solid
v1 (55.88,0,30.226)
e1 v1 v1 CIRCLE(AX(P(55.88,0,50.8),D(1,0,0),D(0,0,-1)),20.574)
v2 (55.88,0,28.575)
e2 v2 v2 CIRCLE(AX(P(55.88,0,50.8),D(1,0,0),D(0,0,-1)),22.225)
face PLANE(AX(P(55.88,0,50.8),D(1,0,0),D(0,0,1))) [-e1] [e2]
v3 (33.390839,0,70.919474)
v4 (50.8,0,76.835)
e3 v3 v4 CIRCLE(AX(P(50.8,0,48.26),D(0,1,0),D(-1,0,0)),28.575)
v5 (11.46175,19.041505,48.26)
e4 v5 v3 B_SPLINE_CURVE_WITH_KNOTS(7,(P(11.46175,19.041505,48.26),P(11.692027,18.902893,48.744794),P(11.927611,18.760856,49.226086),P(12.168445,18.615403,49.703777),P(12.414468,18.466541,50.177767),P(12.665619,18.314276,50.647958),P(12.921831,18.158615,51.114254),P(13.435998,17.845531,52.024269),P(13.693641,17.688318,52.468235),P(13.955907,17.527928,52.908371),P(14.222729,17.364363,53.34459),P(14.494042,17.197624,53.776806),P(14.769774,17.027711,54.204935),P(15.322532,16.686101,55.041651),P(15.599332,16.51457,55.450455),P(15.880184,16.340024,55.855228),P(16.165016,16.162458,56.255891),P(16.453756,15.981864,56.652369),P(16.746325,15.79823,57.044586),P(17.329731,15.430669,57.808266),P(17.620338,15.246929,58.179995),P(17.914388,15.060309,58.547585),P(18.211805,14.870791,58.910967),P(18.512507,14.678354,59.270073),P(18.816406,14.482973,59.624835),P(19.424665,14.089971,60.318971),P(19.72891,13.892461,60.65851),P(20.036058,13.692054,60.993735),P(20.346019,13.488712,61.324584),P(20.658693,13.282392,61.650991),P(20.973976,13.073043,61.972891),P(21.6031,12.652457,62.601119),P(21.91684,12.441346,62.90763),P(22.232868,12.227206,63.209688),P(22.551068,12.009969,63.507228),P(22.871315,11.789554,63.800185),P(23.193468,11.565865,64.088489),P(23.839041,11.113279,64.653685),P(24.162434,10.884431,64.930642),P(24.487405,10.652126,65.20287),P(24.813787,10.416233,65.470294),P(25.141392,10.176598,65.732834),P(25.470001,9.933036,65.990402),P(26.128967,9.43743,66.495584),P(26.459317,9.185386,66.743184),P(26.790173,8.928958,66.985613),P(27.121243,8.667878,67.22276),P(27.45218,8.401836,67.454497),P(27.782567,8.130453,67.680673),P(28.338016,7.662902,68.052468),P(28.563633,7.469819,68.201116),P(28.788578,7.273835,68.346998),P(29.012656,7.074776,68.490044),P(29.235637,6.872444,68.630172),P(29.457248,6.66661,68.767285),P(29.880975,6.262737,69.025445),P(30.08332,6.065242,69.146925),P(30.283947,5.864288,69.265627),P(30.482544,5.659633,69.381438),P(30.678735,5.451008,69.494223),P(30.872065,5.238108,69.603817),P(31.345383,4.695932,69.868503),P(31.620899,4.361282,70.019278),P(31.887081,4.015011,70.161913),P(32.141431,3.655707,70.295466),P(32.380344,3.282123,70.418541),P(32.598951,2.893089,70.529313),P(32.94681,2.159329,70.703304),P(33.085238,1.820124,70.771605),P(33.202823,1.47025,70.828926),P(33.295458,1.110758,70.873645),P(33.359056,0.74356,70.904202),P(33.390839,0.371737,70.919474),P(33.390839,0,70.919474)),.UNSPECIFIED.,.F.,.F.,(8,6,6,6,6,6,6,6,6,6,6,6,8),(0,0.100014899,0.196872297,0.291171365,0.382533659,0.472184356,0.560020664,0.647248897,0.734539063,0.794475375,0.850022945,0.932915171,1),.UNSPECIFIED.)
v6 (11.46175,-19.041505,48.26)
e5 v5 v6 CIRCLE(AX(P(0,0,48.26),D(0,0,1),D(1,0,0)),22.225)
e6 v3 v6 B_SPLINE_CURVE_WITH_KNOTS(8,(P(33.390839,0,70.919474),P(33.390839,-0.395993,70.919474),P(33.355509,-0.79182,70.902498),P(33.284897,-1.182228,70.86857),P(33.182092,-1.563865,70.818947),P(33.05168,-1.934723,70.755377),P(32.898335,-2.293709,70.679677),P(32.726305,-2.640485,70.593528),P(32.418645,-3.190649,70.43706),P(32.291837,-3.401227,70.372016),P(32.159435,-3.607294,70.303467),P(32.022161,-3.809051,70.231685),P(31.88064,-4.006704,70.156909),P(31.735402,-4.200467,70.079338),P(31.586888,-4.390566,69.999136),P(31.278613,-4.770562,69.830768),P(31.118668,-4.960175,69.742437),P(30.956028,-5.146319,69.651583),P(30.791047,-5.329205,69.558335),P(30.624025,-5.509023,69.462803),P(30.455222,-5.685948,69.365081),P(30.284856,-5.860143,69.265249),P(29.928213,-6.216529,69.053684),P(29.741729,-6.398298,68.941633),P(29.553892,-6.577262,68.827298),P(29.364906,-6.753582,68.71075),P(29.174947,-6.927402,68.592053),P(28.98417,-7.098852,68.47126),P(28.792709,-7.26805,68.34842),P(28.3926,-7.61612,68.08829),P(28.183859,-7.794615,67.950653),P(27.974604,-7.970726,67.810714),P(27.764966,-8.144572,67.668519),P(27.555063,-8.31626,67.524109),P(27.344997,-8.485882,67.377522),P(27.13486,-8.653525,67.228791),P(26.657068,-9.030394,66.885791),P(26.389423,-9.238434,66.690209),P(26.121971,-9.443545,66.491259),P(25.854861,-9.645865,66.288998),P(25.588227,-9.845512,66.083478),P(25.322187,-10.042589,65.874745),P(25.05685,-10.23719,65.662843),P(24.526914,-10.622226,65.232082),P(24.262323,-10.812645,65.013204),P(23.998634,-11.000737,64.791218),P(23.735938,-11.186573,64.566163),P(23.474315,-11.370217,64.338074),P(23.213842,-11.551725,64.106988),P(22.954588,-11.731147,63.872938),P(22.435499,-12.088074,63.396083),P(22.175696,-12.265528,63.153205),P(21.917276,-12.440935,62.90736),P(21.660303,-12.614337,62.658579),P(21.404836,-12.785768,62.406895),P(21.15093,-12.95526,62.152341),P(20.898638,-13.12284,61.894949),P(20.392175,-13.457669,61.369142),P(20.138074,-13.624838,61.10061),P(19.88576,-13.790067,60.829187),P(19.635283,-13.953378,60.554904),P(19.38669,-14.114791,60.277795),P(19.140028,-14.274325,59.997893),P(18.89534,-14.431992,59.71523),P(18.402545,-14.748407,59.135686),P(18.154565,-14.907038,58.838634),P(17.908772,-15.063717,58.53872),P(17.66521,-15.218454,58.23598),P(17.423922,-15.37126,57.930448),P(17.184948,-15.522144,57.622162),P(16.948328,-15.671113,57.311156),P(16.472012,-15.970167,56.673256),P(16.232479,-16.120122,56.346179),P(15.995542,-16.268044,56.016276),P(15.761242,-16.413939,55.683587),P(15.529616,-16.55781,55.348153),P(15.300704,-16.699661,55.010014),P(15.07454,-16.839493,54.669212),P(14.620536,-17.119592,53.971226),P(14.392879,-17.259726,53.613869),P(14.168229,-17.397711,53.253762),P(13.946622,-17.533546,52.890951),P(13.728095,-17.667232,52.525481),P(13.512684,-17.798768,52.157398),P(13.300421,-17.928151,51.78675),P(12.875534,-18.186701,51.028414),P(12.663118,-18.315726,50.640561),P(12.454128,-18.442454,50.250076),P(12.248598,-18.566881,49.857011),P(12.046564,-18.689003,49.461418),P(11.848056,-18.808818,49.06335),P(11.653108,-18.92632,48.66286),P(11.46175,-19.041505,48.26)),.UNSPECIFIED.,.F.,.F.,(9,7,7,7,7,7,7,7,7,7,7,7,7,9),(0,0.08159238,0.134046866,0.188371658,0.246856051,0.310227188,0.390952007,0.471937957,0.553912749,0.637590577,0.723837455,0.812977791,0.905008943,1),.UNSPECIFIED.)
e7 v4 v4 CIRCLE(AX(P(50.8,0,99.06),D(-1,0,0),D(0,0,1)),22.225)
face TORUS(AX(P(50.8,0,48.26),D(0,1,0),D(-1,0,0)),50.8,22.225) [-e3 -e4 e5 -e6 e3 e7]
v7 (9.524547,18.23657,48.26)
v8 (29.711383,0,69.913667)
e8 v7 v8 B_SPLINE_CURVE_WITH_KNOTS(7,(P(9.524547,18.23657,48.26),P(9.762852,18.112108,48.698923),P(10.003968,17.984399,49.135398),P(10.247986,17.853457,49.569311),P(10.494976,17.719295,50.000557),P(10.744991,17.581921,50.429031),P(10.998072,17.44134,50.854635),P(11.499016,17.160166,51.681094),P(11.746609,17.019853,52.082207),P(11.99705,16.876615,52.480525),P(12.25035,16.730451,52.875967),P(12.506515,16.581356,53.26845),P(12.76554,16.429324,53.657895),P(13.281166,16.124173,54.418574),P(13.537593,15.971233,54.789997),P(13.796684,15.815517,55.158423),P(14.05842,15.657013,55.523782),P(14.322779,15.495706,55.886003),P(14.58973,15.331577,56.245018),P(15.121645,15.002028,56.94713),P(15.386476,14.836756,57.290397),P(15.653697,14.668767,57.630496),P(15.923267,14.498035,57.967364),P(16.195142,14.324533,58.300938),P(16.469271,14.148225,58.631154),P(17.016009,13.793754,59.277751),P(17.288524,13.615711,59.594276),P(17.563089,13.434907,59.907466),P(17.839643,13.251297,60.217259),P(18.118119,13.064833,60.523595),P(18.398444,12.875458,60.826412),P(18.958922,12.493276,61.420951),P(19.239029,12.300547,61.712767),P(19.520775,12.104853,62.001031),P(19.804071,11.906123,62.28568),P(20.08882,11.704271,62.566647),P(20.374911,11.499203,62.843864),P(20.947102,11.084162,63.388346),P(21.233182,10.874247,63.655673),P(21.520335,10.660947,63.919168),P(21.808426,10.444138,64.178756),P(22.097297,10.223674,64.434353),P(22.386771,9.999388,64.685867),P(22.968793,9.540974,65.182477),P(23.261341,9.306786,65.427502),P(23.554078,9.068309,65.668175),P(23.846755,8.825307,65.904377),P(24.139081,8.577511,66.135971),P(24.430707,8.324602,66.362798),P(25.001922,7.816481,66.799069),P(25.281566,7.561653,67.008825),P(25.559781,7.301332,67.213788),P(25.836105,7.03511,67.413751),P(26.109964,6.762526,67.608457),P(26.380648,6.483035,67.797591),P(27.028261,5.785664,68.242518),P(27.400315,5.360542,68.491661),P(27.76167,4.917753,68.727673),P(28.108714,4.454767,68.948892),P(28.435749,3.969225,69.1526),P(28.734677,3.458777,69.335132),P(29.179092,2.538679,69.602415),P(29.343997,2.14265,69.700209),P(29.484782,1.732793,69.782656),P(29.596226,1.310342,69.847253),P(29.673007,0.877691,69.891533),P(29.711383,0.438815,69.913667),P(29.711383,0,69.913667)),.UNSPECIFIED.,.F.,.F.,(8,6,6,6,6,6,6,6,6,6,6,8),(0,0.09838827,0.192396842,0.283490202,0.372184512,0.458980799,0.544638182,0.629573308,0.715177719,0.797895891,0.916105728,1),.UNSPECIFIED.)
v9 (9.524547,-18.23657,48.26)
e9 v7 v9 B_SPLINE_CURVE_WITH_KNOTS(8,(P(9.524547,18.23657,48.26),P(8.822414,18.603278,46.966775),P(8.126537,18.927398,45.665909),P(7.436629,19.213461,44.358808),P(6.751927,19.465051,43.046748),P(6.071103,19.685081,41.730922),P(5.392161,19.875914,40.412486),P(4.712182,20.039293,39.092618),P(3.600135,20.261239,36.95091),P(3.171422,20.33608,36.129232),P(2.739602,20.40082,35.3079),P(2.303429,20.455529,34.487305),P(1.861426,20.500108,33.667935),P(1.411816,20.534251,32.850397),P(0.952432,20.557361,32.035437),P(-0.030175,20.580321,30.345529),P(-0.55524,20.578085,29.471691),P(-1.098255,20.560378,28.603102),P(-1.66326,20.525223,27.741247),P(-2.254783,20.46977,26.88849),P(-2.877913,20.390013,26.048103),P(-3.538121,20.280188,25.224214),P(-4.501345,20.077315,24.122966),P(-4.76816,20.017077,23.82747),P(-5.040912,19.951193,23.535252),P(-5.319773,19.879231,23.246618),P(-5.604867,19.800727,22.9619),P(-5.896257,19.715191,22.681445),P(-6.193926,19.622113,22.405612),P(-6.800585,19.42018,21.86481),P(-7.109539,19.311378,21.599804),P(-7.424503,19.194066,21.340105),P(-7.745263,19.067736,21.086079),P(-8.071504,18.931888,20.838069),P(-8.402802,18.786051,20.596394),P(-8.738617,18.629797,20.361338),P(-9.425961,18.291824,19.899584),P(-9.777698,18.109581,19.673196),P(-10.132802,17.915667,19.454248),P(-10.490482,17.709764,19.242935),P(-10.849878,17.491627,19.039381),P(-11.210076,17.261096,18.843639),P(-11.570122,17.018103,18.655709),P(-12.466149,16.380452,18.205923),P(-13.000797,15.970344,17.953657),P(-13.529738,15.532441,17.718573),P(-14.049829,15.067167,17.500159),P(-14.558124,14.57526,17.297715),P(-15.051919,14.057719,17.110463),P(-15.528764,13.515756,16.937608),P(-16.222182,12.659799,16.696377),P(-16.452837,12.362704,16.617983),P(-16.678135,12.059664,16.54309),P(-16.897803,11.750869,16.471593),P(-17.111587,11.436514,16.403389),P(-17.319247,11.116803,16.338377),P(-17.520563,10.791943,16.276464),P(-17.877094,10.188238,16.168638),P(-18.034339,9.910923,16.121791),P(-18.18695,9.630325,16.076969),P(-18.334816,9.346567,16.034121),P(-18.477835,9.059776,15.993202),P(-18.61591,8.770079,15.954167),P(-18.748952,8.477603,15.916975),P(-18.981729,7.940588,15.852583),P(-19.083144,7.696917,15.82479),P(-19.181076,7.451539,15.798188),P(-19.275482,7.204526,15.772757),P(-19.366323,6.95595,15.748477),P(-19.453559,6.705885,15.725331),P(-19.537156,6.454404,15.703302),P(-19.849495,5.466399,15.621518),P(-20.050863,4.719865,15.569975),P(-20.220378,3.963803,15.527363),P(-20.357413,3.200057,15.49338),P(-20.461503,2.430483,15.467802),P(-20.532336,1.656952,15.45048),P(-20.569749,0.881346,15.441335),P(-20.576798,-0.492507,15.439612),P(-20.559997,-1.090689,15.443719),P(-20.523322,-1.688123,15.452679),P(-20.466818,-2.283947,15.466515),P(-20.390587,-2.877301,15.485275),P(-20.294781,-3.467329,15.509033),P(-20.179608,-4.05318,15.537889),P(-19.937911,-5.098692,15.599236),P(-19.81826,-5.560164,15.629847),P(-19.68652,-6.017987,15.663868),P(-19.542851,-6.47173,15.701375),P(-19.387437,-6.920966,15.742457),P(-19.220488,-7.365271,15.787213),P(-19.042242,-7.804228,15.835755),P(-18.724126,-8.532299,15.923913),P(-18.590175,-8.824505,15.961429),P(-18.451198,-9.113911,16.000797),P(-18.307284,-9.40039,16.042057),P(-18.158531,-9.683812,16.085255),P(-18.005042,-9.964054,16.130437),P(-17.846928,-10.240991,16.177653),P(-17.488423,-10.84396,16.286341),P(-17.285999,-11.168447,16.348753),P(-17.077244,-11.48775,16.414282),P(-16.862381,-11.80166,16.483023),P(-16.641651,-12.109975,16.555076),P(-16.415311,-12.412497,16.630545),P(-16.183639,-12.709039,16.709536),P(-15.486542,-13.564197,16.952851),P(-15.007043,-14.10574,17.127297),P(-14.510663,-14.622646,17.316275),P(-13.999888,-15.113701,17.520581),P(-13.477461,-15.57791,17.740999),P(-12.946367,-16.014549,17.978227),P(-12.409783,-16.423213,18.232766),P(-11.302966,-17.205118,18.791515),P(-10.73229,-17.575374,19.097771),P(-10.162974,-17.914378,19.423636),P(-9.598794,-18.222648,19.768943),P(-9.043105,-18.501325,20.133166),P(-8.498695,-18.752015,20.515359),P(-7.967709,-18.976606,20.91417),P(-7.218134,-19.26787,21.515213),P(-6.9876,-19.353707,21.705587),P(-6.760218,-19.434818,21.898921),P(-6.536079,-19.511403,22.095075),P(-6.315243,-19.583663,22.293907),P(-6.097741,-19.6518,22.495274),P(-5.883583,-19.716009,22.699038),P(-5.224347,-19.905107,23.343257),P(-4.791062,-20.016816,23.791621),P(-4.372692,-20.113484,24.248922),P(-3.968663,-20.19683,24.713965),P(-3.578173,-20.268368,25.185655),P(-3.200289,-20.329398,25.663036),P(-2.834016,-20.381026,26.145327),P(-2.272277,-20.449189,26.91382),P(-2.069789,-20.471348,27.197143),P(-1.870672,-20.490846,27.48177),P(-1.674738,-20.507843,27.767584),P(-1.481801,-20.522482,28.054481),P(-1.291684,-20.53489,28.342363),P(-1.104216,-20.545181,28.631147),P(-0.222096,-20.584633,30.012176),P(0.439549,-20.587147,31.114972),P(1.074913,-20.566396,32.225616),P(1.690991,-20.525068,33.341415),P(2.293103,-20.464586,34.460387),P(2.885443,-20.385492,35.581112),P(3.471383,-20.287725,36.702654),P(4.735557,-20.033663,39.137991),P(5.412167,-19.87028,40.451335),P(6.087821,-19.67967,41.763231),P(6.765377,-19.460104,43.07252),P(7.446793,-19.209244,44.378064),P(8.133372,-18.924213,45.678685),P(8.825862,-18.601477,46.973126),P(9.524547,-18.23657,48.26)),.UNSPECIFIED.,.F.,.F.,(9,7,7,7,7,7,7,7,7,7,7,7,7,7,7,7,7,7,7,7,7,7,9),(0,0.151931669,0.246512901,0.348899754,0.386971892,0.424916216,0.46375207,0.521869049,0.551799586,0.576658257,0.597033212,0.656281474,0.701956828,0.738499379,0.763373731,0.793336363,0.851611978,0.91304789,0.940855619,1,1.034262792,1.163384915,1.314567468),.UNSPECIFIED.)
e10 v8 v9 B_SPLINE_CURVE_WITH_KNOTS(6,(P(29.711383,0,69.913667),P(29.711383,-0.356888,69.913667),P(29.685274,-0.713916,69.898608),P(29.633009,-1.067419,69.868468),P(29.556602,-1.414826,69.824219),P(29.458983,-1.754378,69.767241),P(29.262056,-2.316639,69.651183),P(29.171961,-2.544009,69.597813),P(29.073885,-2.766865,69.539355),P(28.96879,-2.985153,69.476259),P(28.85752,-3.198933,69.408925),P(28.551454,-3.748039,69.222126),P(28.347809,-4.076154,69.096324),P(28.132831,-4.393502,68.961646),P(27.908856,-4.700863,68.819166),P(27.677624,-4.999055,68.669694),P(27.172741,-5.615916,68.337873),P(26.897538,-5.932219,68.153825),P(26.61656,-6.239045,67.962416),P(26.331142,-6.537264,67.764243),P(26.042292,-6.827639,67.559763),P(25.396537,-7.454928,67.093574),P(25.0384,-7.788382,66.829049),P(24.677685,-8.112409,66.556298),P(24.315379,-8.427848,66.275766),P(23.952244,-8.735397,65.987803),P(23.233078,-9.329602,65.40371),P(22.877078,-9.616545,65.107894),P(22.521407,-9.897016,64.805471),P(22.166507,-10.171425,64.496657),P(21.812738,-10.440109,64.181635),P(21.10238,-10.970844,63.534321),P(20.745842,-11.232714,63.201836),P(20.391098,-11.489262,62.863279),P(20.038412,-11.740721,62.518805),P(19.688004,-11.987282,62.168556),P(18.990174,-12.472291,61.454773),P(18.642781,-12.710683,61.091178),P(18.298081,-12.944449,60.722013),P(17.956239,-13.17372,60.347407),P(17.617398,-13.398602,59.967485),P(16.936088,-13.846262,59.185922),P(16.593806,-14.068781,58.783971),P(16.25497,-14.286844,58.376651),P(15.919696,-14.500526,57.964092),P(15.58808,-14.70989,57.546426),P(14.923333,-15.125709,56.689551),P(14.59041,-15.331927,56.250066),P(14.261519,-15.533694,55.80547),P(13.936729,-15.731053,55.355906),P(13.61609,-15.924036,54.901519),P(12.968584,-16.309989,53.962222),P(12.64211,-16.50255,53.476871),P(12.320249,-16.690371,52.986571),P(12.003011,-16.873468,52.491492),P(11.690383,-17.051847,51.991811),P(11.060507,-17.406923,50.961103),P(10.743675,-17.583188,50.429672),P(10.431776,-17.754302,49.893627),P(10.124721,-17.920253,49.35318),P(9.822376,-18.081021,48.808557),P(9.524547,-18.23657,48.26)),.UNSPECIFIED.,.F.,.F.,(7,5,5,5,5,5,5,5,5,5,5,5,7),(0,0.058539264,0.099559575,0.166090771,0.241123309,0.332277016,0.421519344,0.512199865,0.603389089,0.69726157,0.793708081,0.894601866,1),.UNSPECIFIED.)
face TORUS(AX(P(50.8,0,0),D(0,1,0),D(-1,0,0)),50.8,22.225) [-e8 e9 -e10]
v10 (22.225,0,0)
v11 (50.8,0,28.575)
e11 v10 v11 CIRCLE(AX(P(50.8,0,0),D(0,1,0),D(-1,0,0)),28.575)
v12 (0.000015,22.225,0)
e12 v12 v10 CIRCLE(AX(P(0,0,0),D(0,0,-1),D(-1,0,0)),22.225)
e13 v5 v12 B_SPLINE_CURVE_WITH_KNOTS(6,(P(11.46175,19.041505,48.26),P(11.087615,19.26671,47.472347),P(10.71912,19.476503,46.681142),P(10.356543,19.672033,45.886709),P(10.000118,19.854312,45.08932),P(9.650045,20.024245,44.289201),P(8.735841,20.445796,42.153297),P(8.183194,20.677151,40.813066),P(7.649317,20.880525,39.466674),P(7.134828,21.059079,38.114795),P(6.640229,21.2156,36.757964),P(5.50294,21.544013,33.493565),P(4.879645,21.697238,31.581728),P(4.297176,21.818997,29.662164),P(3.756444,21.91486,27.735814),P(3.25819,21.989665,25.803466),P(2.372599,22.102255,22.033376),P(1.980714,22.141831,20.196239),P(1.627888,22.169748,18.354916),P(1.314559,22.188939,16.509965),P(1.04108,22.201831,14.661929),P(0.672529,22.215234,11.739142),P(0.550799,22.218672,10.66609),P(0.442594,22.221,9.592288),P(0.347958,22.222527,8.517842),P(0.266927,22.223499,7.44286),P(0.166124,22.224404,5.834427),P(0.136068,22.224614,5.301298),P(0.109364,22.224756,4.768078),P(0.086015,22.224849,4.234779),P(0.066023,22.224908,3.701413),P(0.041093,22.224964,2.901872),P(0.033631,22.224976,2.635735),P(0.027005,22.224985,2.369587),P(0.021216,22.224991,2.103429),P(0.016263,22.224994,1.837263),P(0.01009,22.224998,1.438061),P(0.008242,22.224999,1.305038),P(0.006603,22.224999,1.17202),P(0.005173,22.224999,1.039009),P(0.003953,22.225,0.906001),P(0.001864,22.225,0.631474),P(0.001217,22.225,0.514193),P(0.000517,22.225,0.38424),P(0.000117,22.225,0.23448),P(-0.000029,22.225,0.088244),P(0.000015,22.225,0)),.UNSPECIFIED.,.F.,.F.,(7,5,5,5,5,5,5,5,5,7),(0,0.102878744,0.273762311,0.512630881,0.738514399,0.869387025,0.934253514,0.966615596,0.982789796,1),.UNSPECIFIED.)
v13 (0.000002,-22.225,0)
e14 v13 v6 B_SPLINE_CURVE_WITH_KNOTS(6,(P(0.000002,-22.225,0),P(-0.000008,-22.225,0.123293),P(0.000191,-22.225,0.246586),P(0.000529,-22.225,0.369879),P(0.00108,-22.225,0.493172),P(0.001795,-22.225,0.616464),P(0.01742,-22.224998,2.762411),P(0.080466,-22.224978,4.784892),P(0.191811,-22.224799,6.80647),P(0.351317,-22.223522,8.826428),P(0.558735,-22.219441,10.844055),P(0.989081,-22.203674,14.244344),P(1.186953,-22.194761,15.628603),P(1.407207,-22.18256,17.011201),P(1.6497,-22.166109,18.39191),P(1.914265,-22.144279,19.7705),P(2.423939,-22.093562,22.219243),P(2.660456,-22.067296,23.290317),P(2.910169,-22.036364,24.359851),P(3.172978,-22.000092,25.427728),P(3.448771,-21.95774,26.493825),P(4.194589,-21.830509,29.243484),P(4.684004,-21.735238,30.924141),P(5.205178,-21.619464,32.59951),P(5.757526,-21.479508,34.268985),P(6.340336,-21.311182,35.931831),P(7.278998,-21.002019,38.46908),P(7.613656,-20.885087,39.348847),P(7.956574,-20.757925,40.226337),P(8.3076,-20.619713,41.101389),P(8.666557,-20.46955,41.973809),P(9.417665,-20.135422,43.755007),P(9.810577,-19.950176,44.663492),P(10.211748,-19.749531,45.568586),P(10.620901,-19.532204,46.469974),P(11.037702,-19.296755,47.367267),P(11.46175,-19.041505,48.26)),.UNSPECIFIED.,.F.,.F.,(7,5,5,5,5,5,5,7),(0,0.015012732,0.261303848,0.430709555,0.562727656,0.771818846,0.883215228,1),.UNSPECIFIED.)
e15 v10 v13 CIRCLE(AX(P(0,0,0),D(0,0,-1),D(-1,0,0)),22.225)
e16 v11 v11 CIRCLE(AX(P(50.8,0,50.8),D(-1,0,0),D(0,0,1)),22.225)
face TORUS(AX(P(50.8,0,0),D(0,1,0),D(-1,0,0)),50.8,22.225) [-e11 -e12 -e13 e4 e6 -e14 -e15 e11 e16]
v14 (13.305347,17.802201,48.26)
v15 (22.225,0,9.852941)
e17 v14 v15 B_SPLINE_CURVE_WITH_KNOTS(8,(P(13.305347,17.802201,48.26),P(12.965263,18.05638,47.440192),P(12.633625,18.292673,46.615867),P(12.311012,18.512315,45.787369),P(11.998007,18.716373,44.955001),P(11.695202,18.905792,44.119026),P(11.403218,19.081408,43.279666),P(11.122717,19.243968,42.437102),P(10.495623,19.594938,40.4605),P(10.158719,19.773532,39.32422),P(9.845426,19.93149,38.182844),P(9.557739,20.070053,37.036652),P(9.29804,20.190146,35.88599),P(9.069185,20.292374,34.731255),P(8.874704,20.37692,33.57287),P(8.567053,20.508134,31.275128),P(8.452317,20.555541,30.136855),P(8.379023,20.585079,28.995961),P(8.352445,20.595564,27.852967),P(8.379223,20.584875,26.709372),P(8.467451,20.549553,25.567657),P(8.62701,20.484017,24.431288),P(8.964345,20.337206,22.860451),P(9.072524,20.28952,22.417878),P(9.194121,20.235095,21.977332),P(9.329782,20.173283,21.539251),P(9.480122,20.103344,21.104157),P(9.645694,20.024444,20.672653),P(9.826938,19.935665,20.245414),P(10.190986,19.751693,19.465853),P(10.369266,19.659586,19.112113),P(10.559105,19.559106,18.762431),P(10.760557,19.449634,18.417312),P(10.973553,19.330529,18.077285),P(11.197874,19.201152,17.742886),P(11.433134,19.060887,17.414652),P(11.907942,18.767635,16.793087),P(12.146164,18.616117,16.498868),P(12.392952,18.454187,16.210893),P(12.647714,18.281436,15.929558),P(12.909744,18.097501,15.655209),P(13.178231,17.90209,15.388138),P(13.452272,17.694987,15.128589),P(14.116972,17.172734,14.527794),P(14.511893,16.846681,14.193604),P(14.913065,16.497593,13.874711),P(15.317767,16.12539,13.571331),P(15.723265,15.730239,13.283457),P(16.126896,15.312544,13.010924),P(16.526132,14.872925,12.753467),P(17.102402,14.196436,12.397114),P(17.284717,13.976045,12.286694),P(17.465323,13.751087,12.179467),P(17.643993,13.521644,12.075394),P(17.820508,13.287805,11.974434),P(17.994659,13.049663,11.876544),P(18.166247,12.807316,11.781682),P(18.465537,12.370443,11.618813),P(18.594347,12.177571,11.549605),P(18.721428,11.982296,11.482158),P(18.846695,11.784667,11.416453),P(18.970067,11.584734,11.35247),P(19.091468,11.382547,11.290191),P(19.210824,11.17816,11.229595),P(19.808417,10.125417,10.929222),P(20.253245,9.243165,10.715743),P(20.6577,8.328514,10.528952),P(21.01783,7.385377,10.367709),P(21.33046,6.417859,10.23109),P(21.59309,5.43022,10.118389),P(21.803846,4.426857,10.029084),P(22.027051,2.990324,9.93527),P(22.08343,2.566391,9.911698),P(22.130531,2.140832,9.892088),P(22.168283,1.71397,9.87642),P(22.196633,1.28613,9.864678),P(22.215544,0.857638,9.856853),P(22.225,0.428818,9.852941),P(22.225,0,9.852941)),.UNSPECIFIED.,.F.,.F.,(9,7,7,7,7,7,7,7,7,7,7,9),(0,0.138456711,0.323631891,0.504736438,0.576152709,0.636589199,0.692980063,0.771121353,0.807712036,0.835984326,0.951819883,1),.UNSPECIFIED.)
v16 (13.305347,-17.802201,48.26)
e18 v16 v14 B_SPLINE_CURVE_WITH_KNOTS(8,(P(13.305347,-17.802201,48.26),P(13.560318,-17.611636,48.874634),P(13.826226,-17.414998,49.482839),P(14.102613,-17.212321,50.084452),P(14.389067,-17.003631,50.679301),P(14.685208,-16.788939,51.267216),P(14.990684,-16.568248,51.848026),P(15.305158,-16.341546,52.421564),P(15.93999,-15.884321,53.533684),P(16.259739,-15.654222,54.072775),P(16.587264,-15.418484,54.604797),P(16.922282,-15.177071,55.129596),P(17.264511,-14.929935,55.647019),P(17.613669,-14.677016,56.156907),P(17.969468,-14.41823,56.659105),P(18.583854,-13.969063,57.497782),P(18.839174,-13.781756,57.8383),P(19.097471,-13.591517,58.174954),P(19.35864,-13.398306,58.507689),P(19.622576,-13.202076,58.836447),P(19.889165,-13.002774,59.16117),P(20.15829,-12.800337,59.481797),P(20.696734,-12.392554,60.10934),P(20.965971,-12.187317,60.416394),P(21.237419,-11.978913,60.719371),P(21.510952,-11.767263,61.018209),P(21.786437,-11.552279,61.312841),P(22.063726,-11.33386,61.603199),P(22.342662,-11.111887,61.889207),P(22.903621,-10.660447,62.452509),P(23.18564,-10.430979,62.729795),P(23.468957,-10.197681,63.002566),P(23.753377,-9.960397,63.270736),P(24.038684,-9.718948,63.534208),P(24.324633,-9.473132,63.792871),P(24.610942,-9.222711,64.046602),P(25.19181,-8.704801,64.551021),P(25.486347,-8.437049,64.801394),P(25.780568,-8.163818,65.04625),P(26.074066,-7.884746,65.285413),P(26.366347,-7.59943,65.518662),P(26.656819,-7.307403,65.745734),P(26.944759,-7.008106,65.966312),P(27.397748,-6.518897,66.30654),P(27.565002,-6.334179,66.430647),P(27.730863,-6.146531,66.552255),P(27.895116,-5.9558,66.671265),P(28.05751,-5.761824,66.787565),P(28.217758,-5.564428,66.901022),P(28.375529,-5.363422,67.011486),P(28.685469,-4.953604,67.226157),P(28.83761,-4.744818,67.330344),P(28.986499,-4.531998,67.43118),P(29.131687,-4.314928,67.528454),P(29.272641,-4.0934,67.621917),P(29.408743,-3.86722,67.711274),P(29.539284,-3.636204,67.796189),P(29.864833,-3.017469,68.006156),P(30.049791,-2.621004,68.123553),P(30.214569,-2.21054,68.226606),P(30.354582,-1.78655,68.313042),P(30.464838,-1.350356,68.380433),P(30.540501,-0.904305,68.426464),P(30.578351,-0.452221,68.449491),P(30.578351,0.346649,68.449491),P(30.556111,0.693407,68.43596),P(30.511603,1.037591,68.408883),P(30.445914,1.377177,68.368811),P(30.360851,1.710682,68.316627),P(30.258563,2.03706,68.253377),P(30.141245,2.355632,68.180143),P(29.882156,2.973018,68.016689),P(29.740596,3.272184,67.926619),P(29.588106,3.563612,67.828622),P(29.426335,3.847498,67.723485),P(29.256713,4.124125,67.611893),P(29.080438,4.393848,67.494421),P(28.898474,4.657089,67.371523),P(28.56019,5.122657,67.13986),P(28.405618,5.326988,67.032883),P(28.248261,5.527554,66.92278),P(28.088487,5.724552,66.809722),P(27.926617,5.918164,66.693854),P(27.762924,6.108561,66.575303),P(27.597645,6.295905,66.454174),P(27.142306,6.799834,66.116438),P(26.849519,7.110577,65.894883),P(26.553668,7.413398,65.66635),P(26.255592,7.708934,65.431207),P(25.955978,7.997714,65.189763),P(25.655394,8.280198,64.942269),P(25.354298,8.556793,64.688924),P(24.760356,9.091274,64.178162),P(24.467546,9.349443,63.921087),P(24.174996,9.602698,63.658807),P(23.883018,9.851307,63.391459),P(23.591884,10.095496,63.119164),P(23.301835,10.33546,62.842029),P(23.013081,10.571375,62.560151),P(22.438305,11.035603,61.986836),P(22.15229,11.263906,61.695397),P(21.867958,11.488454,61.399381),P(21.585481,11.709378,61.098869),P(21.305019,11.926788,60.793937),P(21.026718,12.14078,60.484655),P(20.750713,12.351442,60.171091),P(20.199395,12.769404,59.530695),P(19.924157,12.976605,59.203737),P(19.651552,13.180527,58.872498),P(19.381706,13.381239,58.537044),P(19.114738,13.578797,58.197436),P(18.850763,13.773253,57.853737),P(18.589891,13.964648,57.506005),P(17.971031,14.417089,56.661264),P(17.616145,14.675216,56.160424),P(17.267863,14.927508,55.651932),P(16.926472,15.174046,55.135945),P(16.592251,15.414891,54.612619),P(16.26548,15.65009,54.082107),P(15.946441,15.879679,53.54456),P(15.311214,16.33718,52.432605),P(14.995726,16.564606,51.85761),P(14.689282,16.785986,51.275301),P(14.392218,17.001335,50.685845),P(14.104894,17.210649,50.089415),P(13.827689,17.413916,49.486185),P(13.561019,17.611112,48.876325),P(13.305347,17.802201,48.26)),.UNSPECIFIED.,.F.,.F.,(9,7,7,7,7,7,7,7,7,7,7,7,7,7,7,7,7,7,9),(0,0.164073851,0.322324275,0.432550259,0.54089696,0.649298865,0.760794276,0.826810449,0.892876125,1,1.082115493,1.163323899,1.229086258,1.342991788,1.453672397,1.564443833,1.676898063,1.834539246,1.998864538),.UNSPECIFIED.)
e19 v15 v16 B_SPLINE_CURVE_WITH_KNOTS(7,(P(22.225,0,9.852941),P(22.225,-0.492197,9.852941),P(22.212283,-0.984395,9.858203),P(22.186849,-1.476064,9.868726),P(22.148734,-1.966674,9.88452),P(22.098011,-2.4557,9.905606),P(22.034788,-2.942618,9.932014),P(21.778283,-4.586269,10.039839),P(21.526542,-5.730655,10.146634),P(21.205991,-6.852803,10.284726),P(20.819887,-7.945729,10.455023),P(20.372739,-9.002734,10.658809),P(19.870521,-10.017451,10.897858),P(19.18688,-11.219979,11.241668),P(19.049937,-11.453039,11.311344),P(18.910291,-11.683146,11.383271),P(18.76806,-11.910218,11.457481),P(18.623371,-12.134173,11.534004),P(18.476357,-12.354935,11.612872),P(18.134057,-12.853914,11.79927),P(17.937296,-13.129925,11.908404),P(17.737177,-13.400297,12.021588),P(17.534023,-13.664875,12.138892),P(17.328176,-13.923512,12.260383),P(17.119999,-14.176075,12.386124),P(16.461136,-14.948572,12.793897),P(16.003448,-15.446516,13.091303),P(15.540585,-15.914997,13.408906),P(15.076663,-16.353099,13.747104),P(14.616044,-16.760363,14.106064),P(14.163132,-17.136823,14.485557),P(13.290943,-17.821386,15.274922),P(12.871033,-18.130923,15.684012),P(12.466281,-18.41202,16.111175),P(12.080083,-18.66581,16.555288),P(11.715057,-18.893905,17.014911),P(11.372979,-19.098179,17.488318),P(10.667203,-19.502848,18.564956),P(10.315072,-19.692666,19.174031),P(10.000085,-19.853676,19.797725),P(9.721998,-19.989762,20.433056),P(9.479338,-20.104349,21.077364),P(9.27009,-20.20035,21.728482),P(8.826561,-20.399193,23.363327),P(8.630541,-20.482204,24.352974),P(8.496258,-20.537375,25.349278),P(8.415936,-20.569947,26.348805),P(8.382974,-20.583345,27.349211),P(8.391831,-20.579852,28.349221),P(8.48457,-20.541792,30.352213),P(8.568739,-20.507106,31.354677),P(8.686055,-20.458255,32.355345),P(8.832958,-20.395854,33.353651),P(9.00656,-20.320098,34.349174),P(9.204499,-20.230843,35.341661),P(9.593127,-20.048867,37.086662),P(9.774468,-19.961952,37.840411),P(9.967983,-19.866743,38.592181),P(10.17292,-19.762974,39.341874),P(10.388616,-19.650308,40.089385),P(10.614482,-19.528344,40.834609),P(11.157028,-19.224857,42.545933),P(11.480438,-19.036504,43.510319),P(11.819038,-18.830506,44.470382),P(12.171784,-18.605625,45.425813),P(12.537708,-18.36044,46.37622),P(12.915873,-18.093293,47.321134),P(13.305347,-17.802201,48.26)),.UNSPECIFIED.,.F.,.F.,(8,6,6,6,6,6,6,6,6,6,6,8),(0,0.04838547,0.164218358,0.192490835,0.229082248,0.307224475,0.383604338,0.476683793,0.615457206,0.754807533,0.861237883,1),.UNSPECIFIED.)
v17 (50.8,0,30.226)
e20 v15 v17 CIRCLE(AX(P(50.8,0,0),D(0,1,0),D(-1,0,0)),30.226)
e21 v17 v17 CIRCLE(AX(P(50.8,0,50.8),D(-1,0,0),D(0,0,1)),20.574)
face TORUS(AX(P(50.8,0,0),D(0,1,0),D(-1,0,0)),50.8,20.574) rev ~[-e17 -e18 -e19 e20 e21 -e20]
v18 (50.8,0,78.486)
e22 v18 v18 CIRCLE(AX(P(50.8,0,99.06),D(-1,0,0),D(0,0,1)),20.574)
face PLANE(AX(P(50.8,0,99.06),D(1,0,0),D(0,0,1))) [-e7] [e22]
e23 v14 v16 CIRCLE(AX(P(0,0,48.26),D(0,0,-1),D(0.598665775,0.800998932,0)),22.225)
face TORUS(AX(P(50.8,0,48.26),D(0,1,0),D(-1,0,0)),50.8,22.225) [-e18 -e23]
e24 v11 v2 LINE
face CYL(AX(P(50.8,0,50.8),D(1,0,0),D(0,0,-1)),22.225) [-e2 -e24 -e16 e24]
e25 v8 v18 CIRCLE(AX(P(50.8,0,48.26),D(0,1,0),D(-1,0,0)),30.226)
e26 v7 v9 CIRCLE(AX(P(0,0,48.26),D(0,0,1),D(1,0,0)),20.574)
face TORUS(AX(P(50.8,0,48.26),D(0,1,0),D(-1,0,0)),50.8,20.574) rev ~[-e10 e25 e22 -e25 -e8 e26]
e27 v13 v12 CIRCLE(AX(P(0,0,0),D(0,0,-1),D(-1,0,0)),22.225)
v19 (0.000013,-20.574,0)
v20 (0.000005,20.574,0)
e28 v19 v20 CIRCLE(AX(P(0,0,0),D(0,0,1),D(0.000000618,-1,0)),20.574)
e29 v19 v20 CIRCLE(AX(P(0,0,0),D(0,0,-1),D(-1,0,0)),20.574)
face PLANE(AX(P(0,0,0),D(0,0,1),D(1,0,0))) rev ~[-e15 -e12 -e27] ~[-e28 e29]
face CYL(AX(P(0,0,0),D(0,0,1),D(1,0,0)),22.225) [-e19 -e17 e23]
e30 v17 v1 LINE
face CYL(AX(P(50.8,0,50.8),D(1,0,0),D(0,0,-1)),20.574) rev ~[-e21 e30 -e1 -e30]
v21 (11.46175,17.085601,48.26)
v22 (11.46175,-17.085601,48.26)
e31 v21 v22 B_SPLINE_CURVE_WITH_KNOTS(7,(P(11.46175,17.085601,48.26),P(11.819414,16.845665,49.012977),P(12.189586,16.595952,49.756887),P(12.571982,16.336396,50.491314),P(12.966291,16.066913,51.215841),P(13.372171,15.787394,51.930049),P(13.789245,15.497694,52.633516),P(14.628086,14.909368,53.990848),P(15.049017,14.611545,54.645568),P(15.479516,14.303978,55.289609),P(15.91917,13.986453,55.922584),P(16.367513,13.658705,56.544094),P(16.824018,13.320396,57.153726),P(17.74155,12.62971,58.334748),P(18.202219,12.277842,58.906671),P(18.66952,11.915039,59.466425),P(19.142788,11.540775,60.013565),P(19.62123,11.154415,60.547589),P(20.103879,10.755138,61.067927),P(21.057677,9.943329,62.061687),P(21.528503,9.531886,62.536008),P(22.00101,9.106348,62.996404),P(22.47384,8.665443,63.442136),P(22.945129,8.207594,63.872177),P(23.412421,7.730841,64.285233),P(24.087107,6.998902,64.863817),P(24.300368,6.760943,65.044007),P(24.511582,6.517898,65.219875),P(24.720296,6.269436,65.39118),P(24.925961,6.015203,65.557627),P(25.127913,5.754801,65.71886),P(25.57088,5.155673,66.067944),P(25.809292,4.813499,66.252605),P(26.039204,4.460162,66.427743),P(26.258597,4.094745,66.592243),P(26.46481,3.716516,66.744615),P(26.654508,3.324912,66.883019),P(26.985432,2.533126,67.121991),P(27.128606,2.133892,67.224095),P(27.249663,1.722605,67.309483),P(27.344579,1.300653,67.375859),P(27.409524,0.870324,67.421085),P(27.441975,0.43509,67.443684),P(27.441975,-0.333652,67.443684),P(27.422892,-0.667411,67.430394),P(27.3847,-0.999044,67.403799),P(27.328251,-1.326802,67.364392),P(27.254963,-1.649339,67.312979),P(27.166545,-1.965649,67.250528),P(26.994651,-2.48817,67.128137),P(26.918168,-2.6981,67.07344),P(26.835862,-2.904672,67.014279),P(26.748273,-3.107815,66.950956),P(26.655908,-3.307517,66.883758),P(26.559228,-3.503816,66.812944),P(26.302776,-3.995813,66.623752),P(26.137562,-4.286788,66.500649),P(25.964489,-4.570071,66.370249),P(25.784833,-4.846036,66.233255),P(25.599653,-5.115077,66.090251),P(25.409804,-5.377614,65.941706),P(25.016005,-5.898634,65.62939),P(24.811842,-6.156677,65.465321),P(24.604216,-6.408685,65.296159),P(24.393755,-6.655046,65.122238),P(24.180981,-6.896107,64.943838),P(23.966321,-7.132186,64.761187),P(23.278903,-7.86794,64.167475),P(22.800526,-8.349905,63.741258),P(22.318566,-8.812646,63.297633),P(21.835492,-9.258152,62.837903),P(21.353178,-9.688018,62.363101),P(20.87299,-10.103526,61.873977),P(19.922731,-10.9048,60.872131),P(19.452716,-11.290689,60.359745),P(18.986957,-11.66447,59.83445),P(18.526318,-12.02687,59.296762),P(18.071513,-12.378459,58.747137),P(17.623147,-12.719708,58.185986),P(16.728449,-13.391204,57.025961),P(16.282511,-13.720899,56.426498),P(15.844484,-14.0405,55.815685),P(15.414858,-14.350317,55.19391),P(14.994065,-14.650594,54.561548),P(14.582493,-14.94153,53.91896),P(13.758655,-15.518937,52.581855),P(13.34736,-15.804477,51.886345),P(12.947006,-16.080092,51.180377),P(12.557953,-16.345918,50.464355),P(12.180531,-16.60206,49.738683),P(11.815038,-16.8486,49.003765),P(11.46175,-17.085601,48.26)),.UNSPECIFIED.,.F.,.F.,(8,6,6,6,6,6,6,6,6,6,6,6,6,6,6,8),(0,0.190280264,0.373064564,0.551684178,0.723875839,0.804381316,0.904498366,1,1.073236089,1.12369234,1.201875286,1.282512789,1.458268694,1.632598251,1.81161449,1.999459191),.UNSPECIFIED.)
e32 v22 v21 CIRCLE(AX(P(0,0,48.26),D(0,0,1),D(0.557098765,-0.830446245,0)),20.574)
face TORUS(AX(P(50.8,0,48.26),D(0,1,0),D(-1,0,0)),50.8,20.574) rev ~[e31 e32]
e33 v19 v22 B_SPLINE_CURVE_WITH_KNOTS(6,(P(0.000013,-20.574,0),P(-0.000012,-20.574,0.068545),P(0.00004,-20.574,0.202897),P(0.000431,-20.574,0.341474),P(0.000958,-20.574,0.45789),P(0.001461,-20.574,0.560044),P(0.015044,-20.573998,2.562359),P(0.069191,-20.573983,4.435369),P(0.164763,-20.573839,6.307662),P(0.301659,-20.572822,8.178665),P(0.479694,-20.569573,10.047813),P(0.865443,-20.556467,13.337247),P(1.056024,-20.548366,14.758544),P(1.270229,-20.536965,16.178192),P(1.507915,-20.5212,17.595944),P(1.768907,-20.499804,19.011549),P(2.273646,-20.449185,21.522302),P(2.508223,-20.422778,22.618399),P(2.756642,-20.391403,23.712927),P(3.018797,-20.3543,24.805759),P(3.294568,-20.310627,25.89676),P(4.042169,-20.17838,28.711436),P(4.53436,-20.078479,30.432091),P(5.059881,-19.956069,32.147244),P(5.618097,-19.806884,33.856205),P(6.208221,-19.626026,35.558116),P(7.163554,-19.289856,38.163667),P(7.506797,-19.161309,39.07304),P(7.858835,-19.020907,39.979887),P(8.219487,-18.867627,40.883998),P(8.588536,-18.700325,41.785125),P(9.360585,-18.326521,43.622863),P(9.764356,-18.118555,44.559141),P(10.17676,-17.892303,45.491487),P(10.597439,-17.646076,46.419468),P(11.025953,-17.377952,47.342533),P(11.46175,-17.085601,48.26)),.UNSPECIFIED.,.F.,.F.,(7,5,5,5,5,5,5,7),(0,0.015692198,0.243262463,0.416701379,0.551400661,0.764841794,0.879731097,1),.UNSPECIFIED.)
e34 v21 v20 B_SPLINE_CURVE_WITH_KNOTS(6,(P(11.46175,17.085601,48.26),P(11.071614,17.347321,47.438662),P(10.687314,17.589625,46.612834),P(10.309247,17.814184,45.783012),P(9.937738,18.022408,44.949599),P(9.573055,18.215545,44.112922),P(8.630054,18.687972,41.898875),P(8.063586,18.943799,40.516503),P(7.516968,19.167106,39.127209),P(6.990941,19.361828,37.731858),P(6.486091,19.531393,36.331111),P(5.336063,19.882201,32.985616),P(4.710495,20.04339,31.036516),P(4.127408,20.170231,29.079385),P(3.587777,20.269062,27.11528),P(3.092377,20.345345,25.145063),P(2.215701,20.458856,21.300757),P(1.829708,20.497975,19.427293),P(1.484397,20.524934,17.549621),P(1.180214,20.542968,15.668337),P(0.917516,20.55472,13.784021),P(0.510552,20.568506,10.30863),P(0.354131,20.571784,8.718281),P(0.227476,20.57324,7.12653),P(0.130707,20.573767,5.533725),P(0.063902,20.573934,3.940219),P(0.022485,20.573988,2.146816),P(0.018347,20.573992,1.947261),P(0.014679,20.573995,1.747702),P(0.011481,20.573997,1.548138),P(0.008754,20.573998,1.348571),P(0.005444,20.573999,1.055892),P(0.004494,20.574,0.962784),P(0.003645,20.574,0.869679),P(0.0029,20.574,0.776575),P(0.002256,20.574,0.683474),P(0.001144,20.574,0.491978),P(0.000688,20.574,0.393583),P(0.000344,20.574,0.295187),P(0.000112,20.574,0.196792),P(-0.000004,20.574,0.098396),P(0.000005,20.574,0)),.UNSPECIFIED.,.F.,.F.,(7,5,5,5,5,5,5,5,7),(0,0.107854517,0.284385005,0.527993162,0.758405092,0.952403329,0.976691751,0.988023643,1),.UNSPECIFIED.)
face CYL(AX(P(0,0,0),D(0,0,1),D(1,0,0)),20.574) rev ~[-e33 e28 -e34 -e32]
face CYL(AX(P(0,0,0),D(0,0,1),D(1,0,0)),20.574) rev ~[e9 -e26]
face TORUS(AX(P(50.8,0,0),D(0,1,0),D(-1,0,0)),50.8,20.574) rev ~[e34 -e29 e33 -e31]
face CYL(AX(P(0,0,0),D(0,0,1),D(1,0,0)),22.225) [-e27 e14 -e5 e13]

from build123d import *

# Parameters (mm, degrees)
F1_R   = 22.225
F1_R_2 = 20.574


with BuildPart() as f2:
    # F2: sweep along a path in F0
    with BuildLine(Plane.XZ) as f2_path:
        ThreePointArc((0, 0), (14.8789755157, 35.9210244843), (50.8, 50.8))
        Line((50.8, 50.8), (55.88, 50.8))
    # F1 (on Top) → F2 (sweep)
    with BuildSketch(Plane.XY):
        Circle(F1_R)
        Circle(F1_R_2, mode=Mode.SUBTRACT)
    sweep(path=f2_path.line)

    # F3: sweep along a path in F0
    with BuildLine(Plane.XZ) as f3_path:
        Line((0, 0), (0, 48.26))
        ThreePointArc((0, 48.26), (14.8789755157, 84.1810244843), (50.8, 99.06))
    # F1 (on Top) → F3 (sweep)
    with BuildSketch(Plane.XY):
        Circle(F1_R)
        Circle(F1_R_2, mode=Mode.SUBTRACT)
    sweep(path=f3_path.line)


solid = f2.part
